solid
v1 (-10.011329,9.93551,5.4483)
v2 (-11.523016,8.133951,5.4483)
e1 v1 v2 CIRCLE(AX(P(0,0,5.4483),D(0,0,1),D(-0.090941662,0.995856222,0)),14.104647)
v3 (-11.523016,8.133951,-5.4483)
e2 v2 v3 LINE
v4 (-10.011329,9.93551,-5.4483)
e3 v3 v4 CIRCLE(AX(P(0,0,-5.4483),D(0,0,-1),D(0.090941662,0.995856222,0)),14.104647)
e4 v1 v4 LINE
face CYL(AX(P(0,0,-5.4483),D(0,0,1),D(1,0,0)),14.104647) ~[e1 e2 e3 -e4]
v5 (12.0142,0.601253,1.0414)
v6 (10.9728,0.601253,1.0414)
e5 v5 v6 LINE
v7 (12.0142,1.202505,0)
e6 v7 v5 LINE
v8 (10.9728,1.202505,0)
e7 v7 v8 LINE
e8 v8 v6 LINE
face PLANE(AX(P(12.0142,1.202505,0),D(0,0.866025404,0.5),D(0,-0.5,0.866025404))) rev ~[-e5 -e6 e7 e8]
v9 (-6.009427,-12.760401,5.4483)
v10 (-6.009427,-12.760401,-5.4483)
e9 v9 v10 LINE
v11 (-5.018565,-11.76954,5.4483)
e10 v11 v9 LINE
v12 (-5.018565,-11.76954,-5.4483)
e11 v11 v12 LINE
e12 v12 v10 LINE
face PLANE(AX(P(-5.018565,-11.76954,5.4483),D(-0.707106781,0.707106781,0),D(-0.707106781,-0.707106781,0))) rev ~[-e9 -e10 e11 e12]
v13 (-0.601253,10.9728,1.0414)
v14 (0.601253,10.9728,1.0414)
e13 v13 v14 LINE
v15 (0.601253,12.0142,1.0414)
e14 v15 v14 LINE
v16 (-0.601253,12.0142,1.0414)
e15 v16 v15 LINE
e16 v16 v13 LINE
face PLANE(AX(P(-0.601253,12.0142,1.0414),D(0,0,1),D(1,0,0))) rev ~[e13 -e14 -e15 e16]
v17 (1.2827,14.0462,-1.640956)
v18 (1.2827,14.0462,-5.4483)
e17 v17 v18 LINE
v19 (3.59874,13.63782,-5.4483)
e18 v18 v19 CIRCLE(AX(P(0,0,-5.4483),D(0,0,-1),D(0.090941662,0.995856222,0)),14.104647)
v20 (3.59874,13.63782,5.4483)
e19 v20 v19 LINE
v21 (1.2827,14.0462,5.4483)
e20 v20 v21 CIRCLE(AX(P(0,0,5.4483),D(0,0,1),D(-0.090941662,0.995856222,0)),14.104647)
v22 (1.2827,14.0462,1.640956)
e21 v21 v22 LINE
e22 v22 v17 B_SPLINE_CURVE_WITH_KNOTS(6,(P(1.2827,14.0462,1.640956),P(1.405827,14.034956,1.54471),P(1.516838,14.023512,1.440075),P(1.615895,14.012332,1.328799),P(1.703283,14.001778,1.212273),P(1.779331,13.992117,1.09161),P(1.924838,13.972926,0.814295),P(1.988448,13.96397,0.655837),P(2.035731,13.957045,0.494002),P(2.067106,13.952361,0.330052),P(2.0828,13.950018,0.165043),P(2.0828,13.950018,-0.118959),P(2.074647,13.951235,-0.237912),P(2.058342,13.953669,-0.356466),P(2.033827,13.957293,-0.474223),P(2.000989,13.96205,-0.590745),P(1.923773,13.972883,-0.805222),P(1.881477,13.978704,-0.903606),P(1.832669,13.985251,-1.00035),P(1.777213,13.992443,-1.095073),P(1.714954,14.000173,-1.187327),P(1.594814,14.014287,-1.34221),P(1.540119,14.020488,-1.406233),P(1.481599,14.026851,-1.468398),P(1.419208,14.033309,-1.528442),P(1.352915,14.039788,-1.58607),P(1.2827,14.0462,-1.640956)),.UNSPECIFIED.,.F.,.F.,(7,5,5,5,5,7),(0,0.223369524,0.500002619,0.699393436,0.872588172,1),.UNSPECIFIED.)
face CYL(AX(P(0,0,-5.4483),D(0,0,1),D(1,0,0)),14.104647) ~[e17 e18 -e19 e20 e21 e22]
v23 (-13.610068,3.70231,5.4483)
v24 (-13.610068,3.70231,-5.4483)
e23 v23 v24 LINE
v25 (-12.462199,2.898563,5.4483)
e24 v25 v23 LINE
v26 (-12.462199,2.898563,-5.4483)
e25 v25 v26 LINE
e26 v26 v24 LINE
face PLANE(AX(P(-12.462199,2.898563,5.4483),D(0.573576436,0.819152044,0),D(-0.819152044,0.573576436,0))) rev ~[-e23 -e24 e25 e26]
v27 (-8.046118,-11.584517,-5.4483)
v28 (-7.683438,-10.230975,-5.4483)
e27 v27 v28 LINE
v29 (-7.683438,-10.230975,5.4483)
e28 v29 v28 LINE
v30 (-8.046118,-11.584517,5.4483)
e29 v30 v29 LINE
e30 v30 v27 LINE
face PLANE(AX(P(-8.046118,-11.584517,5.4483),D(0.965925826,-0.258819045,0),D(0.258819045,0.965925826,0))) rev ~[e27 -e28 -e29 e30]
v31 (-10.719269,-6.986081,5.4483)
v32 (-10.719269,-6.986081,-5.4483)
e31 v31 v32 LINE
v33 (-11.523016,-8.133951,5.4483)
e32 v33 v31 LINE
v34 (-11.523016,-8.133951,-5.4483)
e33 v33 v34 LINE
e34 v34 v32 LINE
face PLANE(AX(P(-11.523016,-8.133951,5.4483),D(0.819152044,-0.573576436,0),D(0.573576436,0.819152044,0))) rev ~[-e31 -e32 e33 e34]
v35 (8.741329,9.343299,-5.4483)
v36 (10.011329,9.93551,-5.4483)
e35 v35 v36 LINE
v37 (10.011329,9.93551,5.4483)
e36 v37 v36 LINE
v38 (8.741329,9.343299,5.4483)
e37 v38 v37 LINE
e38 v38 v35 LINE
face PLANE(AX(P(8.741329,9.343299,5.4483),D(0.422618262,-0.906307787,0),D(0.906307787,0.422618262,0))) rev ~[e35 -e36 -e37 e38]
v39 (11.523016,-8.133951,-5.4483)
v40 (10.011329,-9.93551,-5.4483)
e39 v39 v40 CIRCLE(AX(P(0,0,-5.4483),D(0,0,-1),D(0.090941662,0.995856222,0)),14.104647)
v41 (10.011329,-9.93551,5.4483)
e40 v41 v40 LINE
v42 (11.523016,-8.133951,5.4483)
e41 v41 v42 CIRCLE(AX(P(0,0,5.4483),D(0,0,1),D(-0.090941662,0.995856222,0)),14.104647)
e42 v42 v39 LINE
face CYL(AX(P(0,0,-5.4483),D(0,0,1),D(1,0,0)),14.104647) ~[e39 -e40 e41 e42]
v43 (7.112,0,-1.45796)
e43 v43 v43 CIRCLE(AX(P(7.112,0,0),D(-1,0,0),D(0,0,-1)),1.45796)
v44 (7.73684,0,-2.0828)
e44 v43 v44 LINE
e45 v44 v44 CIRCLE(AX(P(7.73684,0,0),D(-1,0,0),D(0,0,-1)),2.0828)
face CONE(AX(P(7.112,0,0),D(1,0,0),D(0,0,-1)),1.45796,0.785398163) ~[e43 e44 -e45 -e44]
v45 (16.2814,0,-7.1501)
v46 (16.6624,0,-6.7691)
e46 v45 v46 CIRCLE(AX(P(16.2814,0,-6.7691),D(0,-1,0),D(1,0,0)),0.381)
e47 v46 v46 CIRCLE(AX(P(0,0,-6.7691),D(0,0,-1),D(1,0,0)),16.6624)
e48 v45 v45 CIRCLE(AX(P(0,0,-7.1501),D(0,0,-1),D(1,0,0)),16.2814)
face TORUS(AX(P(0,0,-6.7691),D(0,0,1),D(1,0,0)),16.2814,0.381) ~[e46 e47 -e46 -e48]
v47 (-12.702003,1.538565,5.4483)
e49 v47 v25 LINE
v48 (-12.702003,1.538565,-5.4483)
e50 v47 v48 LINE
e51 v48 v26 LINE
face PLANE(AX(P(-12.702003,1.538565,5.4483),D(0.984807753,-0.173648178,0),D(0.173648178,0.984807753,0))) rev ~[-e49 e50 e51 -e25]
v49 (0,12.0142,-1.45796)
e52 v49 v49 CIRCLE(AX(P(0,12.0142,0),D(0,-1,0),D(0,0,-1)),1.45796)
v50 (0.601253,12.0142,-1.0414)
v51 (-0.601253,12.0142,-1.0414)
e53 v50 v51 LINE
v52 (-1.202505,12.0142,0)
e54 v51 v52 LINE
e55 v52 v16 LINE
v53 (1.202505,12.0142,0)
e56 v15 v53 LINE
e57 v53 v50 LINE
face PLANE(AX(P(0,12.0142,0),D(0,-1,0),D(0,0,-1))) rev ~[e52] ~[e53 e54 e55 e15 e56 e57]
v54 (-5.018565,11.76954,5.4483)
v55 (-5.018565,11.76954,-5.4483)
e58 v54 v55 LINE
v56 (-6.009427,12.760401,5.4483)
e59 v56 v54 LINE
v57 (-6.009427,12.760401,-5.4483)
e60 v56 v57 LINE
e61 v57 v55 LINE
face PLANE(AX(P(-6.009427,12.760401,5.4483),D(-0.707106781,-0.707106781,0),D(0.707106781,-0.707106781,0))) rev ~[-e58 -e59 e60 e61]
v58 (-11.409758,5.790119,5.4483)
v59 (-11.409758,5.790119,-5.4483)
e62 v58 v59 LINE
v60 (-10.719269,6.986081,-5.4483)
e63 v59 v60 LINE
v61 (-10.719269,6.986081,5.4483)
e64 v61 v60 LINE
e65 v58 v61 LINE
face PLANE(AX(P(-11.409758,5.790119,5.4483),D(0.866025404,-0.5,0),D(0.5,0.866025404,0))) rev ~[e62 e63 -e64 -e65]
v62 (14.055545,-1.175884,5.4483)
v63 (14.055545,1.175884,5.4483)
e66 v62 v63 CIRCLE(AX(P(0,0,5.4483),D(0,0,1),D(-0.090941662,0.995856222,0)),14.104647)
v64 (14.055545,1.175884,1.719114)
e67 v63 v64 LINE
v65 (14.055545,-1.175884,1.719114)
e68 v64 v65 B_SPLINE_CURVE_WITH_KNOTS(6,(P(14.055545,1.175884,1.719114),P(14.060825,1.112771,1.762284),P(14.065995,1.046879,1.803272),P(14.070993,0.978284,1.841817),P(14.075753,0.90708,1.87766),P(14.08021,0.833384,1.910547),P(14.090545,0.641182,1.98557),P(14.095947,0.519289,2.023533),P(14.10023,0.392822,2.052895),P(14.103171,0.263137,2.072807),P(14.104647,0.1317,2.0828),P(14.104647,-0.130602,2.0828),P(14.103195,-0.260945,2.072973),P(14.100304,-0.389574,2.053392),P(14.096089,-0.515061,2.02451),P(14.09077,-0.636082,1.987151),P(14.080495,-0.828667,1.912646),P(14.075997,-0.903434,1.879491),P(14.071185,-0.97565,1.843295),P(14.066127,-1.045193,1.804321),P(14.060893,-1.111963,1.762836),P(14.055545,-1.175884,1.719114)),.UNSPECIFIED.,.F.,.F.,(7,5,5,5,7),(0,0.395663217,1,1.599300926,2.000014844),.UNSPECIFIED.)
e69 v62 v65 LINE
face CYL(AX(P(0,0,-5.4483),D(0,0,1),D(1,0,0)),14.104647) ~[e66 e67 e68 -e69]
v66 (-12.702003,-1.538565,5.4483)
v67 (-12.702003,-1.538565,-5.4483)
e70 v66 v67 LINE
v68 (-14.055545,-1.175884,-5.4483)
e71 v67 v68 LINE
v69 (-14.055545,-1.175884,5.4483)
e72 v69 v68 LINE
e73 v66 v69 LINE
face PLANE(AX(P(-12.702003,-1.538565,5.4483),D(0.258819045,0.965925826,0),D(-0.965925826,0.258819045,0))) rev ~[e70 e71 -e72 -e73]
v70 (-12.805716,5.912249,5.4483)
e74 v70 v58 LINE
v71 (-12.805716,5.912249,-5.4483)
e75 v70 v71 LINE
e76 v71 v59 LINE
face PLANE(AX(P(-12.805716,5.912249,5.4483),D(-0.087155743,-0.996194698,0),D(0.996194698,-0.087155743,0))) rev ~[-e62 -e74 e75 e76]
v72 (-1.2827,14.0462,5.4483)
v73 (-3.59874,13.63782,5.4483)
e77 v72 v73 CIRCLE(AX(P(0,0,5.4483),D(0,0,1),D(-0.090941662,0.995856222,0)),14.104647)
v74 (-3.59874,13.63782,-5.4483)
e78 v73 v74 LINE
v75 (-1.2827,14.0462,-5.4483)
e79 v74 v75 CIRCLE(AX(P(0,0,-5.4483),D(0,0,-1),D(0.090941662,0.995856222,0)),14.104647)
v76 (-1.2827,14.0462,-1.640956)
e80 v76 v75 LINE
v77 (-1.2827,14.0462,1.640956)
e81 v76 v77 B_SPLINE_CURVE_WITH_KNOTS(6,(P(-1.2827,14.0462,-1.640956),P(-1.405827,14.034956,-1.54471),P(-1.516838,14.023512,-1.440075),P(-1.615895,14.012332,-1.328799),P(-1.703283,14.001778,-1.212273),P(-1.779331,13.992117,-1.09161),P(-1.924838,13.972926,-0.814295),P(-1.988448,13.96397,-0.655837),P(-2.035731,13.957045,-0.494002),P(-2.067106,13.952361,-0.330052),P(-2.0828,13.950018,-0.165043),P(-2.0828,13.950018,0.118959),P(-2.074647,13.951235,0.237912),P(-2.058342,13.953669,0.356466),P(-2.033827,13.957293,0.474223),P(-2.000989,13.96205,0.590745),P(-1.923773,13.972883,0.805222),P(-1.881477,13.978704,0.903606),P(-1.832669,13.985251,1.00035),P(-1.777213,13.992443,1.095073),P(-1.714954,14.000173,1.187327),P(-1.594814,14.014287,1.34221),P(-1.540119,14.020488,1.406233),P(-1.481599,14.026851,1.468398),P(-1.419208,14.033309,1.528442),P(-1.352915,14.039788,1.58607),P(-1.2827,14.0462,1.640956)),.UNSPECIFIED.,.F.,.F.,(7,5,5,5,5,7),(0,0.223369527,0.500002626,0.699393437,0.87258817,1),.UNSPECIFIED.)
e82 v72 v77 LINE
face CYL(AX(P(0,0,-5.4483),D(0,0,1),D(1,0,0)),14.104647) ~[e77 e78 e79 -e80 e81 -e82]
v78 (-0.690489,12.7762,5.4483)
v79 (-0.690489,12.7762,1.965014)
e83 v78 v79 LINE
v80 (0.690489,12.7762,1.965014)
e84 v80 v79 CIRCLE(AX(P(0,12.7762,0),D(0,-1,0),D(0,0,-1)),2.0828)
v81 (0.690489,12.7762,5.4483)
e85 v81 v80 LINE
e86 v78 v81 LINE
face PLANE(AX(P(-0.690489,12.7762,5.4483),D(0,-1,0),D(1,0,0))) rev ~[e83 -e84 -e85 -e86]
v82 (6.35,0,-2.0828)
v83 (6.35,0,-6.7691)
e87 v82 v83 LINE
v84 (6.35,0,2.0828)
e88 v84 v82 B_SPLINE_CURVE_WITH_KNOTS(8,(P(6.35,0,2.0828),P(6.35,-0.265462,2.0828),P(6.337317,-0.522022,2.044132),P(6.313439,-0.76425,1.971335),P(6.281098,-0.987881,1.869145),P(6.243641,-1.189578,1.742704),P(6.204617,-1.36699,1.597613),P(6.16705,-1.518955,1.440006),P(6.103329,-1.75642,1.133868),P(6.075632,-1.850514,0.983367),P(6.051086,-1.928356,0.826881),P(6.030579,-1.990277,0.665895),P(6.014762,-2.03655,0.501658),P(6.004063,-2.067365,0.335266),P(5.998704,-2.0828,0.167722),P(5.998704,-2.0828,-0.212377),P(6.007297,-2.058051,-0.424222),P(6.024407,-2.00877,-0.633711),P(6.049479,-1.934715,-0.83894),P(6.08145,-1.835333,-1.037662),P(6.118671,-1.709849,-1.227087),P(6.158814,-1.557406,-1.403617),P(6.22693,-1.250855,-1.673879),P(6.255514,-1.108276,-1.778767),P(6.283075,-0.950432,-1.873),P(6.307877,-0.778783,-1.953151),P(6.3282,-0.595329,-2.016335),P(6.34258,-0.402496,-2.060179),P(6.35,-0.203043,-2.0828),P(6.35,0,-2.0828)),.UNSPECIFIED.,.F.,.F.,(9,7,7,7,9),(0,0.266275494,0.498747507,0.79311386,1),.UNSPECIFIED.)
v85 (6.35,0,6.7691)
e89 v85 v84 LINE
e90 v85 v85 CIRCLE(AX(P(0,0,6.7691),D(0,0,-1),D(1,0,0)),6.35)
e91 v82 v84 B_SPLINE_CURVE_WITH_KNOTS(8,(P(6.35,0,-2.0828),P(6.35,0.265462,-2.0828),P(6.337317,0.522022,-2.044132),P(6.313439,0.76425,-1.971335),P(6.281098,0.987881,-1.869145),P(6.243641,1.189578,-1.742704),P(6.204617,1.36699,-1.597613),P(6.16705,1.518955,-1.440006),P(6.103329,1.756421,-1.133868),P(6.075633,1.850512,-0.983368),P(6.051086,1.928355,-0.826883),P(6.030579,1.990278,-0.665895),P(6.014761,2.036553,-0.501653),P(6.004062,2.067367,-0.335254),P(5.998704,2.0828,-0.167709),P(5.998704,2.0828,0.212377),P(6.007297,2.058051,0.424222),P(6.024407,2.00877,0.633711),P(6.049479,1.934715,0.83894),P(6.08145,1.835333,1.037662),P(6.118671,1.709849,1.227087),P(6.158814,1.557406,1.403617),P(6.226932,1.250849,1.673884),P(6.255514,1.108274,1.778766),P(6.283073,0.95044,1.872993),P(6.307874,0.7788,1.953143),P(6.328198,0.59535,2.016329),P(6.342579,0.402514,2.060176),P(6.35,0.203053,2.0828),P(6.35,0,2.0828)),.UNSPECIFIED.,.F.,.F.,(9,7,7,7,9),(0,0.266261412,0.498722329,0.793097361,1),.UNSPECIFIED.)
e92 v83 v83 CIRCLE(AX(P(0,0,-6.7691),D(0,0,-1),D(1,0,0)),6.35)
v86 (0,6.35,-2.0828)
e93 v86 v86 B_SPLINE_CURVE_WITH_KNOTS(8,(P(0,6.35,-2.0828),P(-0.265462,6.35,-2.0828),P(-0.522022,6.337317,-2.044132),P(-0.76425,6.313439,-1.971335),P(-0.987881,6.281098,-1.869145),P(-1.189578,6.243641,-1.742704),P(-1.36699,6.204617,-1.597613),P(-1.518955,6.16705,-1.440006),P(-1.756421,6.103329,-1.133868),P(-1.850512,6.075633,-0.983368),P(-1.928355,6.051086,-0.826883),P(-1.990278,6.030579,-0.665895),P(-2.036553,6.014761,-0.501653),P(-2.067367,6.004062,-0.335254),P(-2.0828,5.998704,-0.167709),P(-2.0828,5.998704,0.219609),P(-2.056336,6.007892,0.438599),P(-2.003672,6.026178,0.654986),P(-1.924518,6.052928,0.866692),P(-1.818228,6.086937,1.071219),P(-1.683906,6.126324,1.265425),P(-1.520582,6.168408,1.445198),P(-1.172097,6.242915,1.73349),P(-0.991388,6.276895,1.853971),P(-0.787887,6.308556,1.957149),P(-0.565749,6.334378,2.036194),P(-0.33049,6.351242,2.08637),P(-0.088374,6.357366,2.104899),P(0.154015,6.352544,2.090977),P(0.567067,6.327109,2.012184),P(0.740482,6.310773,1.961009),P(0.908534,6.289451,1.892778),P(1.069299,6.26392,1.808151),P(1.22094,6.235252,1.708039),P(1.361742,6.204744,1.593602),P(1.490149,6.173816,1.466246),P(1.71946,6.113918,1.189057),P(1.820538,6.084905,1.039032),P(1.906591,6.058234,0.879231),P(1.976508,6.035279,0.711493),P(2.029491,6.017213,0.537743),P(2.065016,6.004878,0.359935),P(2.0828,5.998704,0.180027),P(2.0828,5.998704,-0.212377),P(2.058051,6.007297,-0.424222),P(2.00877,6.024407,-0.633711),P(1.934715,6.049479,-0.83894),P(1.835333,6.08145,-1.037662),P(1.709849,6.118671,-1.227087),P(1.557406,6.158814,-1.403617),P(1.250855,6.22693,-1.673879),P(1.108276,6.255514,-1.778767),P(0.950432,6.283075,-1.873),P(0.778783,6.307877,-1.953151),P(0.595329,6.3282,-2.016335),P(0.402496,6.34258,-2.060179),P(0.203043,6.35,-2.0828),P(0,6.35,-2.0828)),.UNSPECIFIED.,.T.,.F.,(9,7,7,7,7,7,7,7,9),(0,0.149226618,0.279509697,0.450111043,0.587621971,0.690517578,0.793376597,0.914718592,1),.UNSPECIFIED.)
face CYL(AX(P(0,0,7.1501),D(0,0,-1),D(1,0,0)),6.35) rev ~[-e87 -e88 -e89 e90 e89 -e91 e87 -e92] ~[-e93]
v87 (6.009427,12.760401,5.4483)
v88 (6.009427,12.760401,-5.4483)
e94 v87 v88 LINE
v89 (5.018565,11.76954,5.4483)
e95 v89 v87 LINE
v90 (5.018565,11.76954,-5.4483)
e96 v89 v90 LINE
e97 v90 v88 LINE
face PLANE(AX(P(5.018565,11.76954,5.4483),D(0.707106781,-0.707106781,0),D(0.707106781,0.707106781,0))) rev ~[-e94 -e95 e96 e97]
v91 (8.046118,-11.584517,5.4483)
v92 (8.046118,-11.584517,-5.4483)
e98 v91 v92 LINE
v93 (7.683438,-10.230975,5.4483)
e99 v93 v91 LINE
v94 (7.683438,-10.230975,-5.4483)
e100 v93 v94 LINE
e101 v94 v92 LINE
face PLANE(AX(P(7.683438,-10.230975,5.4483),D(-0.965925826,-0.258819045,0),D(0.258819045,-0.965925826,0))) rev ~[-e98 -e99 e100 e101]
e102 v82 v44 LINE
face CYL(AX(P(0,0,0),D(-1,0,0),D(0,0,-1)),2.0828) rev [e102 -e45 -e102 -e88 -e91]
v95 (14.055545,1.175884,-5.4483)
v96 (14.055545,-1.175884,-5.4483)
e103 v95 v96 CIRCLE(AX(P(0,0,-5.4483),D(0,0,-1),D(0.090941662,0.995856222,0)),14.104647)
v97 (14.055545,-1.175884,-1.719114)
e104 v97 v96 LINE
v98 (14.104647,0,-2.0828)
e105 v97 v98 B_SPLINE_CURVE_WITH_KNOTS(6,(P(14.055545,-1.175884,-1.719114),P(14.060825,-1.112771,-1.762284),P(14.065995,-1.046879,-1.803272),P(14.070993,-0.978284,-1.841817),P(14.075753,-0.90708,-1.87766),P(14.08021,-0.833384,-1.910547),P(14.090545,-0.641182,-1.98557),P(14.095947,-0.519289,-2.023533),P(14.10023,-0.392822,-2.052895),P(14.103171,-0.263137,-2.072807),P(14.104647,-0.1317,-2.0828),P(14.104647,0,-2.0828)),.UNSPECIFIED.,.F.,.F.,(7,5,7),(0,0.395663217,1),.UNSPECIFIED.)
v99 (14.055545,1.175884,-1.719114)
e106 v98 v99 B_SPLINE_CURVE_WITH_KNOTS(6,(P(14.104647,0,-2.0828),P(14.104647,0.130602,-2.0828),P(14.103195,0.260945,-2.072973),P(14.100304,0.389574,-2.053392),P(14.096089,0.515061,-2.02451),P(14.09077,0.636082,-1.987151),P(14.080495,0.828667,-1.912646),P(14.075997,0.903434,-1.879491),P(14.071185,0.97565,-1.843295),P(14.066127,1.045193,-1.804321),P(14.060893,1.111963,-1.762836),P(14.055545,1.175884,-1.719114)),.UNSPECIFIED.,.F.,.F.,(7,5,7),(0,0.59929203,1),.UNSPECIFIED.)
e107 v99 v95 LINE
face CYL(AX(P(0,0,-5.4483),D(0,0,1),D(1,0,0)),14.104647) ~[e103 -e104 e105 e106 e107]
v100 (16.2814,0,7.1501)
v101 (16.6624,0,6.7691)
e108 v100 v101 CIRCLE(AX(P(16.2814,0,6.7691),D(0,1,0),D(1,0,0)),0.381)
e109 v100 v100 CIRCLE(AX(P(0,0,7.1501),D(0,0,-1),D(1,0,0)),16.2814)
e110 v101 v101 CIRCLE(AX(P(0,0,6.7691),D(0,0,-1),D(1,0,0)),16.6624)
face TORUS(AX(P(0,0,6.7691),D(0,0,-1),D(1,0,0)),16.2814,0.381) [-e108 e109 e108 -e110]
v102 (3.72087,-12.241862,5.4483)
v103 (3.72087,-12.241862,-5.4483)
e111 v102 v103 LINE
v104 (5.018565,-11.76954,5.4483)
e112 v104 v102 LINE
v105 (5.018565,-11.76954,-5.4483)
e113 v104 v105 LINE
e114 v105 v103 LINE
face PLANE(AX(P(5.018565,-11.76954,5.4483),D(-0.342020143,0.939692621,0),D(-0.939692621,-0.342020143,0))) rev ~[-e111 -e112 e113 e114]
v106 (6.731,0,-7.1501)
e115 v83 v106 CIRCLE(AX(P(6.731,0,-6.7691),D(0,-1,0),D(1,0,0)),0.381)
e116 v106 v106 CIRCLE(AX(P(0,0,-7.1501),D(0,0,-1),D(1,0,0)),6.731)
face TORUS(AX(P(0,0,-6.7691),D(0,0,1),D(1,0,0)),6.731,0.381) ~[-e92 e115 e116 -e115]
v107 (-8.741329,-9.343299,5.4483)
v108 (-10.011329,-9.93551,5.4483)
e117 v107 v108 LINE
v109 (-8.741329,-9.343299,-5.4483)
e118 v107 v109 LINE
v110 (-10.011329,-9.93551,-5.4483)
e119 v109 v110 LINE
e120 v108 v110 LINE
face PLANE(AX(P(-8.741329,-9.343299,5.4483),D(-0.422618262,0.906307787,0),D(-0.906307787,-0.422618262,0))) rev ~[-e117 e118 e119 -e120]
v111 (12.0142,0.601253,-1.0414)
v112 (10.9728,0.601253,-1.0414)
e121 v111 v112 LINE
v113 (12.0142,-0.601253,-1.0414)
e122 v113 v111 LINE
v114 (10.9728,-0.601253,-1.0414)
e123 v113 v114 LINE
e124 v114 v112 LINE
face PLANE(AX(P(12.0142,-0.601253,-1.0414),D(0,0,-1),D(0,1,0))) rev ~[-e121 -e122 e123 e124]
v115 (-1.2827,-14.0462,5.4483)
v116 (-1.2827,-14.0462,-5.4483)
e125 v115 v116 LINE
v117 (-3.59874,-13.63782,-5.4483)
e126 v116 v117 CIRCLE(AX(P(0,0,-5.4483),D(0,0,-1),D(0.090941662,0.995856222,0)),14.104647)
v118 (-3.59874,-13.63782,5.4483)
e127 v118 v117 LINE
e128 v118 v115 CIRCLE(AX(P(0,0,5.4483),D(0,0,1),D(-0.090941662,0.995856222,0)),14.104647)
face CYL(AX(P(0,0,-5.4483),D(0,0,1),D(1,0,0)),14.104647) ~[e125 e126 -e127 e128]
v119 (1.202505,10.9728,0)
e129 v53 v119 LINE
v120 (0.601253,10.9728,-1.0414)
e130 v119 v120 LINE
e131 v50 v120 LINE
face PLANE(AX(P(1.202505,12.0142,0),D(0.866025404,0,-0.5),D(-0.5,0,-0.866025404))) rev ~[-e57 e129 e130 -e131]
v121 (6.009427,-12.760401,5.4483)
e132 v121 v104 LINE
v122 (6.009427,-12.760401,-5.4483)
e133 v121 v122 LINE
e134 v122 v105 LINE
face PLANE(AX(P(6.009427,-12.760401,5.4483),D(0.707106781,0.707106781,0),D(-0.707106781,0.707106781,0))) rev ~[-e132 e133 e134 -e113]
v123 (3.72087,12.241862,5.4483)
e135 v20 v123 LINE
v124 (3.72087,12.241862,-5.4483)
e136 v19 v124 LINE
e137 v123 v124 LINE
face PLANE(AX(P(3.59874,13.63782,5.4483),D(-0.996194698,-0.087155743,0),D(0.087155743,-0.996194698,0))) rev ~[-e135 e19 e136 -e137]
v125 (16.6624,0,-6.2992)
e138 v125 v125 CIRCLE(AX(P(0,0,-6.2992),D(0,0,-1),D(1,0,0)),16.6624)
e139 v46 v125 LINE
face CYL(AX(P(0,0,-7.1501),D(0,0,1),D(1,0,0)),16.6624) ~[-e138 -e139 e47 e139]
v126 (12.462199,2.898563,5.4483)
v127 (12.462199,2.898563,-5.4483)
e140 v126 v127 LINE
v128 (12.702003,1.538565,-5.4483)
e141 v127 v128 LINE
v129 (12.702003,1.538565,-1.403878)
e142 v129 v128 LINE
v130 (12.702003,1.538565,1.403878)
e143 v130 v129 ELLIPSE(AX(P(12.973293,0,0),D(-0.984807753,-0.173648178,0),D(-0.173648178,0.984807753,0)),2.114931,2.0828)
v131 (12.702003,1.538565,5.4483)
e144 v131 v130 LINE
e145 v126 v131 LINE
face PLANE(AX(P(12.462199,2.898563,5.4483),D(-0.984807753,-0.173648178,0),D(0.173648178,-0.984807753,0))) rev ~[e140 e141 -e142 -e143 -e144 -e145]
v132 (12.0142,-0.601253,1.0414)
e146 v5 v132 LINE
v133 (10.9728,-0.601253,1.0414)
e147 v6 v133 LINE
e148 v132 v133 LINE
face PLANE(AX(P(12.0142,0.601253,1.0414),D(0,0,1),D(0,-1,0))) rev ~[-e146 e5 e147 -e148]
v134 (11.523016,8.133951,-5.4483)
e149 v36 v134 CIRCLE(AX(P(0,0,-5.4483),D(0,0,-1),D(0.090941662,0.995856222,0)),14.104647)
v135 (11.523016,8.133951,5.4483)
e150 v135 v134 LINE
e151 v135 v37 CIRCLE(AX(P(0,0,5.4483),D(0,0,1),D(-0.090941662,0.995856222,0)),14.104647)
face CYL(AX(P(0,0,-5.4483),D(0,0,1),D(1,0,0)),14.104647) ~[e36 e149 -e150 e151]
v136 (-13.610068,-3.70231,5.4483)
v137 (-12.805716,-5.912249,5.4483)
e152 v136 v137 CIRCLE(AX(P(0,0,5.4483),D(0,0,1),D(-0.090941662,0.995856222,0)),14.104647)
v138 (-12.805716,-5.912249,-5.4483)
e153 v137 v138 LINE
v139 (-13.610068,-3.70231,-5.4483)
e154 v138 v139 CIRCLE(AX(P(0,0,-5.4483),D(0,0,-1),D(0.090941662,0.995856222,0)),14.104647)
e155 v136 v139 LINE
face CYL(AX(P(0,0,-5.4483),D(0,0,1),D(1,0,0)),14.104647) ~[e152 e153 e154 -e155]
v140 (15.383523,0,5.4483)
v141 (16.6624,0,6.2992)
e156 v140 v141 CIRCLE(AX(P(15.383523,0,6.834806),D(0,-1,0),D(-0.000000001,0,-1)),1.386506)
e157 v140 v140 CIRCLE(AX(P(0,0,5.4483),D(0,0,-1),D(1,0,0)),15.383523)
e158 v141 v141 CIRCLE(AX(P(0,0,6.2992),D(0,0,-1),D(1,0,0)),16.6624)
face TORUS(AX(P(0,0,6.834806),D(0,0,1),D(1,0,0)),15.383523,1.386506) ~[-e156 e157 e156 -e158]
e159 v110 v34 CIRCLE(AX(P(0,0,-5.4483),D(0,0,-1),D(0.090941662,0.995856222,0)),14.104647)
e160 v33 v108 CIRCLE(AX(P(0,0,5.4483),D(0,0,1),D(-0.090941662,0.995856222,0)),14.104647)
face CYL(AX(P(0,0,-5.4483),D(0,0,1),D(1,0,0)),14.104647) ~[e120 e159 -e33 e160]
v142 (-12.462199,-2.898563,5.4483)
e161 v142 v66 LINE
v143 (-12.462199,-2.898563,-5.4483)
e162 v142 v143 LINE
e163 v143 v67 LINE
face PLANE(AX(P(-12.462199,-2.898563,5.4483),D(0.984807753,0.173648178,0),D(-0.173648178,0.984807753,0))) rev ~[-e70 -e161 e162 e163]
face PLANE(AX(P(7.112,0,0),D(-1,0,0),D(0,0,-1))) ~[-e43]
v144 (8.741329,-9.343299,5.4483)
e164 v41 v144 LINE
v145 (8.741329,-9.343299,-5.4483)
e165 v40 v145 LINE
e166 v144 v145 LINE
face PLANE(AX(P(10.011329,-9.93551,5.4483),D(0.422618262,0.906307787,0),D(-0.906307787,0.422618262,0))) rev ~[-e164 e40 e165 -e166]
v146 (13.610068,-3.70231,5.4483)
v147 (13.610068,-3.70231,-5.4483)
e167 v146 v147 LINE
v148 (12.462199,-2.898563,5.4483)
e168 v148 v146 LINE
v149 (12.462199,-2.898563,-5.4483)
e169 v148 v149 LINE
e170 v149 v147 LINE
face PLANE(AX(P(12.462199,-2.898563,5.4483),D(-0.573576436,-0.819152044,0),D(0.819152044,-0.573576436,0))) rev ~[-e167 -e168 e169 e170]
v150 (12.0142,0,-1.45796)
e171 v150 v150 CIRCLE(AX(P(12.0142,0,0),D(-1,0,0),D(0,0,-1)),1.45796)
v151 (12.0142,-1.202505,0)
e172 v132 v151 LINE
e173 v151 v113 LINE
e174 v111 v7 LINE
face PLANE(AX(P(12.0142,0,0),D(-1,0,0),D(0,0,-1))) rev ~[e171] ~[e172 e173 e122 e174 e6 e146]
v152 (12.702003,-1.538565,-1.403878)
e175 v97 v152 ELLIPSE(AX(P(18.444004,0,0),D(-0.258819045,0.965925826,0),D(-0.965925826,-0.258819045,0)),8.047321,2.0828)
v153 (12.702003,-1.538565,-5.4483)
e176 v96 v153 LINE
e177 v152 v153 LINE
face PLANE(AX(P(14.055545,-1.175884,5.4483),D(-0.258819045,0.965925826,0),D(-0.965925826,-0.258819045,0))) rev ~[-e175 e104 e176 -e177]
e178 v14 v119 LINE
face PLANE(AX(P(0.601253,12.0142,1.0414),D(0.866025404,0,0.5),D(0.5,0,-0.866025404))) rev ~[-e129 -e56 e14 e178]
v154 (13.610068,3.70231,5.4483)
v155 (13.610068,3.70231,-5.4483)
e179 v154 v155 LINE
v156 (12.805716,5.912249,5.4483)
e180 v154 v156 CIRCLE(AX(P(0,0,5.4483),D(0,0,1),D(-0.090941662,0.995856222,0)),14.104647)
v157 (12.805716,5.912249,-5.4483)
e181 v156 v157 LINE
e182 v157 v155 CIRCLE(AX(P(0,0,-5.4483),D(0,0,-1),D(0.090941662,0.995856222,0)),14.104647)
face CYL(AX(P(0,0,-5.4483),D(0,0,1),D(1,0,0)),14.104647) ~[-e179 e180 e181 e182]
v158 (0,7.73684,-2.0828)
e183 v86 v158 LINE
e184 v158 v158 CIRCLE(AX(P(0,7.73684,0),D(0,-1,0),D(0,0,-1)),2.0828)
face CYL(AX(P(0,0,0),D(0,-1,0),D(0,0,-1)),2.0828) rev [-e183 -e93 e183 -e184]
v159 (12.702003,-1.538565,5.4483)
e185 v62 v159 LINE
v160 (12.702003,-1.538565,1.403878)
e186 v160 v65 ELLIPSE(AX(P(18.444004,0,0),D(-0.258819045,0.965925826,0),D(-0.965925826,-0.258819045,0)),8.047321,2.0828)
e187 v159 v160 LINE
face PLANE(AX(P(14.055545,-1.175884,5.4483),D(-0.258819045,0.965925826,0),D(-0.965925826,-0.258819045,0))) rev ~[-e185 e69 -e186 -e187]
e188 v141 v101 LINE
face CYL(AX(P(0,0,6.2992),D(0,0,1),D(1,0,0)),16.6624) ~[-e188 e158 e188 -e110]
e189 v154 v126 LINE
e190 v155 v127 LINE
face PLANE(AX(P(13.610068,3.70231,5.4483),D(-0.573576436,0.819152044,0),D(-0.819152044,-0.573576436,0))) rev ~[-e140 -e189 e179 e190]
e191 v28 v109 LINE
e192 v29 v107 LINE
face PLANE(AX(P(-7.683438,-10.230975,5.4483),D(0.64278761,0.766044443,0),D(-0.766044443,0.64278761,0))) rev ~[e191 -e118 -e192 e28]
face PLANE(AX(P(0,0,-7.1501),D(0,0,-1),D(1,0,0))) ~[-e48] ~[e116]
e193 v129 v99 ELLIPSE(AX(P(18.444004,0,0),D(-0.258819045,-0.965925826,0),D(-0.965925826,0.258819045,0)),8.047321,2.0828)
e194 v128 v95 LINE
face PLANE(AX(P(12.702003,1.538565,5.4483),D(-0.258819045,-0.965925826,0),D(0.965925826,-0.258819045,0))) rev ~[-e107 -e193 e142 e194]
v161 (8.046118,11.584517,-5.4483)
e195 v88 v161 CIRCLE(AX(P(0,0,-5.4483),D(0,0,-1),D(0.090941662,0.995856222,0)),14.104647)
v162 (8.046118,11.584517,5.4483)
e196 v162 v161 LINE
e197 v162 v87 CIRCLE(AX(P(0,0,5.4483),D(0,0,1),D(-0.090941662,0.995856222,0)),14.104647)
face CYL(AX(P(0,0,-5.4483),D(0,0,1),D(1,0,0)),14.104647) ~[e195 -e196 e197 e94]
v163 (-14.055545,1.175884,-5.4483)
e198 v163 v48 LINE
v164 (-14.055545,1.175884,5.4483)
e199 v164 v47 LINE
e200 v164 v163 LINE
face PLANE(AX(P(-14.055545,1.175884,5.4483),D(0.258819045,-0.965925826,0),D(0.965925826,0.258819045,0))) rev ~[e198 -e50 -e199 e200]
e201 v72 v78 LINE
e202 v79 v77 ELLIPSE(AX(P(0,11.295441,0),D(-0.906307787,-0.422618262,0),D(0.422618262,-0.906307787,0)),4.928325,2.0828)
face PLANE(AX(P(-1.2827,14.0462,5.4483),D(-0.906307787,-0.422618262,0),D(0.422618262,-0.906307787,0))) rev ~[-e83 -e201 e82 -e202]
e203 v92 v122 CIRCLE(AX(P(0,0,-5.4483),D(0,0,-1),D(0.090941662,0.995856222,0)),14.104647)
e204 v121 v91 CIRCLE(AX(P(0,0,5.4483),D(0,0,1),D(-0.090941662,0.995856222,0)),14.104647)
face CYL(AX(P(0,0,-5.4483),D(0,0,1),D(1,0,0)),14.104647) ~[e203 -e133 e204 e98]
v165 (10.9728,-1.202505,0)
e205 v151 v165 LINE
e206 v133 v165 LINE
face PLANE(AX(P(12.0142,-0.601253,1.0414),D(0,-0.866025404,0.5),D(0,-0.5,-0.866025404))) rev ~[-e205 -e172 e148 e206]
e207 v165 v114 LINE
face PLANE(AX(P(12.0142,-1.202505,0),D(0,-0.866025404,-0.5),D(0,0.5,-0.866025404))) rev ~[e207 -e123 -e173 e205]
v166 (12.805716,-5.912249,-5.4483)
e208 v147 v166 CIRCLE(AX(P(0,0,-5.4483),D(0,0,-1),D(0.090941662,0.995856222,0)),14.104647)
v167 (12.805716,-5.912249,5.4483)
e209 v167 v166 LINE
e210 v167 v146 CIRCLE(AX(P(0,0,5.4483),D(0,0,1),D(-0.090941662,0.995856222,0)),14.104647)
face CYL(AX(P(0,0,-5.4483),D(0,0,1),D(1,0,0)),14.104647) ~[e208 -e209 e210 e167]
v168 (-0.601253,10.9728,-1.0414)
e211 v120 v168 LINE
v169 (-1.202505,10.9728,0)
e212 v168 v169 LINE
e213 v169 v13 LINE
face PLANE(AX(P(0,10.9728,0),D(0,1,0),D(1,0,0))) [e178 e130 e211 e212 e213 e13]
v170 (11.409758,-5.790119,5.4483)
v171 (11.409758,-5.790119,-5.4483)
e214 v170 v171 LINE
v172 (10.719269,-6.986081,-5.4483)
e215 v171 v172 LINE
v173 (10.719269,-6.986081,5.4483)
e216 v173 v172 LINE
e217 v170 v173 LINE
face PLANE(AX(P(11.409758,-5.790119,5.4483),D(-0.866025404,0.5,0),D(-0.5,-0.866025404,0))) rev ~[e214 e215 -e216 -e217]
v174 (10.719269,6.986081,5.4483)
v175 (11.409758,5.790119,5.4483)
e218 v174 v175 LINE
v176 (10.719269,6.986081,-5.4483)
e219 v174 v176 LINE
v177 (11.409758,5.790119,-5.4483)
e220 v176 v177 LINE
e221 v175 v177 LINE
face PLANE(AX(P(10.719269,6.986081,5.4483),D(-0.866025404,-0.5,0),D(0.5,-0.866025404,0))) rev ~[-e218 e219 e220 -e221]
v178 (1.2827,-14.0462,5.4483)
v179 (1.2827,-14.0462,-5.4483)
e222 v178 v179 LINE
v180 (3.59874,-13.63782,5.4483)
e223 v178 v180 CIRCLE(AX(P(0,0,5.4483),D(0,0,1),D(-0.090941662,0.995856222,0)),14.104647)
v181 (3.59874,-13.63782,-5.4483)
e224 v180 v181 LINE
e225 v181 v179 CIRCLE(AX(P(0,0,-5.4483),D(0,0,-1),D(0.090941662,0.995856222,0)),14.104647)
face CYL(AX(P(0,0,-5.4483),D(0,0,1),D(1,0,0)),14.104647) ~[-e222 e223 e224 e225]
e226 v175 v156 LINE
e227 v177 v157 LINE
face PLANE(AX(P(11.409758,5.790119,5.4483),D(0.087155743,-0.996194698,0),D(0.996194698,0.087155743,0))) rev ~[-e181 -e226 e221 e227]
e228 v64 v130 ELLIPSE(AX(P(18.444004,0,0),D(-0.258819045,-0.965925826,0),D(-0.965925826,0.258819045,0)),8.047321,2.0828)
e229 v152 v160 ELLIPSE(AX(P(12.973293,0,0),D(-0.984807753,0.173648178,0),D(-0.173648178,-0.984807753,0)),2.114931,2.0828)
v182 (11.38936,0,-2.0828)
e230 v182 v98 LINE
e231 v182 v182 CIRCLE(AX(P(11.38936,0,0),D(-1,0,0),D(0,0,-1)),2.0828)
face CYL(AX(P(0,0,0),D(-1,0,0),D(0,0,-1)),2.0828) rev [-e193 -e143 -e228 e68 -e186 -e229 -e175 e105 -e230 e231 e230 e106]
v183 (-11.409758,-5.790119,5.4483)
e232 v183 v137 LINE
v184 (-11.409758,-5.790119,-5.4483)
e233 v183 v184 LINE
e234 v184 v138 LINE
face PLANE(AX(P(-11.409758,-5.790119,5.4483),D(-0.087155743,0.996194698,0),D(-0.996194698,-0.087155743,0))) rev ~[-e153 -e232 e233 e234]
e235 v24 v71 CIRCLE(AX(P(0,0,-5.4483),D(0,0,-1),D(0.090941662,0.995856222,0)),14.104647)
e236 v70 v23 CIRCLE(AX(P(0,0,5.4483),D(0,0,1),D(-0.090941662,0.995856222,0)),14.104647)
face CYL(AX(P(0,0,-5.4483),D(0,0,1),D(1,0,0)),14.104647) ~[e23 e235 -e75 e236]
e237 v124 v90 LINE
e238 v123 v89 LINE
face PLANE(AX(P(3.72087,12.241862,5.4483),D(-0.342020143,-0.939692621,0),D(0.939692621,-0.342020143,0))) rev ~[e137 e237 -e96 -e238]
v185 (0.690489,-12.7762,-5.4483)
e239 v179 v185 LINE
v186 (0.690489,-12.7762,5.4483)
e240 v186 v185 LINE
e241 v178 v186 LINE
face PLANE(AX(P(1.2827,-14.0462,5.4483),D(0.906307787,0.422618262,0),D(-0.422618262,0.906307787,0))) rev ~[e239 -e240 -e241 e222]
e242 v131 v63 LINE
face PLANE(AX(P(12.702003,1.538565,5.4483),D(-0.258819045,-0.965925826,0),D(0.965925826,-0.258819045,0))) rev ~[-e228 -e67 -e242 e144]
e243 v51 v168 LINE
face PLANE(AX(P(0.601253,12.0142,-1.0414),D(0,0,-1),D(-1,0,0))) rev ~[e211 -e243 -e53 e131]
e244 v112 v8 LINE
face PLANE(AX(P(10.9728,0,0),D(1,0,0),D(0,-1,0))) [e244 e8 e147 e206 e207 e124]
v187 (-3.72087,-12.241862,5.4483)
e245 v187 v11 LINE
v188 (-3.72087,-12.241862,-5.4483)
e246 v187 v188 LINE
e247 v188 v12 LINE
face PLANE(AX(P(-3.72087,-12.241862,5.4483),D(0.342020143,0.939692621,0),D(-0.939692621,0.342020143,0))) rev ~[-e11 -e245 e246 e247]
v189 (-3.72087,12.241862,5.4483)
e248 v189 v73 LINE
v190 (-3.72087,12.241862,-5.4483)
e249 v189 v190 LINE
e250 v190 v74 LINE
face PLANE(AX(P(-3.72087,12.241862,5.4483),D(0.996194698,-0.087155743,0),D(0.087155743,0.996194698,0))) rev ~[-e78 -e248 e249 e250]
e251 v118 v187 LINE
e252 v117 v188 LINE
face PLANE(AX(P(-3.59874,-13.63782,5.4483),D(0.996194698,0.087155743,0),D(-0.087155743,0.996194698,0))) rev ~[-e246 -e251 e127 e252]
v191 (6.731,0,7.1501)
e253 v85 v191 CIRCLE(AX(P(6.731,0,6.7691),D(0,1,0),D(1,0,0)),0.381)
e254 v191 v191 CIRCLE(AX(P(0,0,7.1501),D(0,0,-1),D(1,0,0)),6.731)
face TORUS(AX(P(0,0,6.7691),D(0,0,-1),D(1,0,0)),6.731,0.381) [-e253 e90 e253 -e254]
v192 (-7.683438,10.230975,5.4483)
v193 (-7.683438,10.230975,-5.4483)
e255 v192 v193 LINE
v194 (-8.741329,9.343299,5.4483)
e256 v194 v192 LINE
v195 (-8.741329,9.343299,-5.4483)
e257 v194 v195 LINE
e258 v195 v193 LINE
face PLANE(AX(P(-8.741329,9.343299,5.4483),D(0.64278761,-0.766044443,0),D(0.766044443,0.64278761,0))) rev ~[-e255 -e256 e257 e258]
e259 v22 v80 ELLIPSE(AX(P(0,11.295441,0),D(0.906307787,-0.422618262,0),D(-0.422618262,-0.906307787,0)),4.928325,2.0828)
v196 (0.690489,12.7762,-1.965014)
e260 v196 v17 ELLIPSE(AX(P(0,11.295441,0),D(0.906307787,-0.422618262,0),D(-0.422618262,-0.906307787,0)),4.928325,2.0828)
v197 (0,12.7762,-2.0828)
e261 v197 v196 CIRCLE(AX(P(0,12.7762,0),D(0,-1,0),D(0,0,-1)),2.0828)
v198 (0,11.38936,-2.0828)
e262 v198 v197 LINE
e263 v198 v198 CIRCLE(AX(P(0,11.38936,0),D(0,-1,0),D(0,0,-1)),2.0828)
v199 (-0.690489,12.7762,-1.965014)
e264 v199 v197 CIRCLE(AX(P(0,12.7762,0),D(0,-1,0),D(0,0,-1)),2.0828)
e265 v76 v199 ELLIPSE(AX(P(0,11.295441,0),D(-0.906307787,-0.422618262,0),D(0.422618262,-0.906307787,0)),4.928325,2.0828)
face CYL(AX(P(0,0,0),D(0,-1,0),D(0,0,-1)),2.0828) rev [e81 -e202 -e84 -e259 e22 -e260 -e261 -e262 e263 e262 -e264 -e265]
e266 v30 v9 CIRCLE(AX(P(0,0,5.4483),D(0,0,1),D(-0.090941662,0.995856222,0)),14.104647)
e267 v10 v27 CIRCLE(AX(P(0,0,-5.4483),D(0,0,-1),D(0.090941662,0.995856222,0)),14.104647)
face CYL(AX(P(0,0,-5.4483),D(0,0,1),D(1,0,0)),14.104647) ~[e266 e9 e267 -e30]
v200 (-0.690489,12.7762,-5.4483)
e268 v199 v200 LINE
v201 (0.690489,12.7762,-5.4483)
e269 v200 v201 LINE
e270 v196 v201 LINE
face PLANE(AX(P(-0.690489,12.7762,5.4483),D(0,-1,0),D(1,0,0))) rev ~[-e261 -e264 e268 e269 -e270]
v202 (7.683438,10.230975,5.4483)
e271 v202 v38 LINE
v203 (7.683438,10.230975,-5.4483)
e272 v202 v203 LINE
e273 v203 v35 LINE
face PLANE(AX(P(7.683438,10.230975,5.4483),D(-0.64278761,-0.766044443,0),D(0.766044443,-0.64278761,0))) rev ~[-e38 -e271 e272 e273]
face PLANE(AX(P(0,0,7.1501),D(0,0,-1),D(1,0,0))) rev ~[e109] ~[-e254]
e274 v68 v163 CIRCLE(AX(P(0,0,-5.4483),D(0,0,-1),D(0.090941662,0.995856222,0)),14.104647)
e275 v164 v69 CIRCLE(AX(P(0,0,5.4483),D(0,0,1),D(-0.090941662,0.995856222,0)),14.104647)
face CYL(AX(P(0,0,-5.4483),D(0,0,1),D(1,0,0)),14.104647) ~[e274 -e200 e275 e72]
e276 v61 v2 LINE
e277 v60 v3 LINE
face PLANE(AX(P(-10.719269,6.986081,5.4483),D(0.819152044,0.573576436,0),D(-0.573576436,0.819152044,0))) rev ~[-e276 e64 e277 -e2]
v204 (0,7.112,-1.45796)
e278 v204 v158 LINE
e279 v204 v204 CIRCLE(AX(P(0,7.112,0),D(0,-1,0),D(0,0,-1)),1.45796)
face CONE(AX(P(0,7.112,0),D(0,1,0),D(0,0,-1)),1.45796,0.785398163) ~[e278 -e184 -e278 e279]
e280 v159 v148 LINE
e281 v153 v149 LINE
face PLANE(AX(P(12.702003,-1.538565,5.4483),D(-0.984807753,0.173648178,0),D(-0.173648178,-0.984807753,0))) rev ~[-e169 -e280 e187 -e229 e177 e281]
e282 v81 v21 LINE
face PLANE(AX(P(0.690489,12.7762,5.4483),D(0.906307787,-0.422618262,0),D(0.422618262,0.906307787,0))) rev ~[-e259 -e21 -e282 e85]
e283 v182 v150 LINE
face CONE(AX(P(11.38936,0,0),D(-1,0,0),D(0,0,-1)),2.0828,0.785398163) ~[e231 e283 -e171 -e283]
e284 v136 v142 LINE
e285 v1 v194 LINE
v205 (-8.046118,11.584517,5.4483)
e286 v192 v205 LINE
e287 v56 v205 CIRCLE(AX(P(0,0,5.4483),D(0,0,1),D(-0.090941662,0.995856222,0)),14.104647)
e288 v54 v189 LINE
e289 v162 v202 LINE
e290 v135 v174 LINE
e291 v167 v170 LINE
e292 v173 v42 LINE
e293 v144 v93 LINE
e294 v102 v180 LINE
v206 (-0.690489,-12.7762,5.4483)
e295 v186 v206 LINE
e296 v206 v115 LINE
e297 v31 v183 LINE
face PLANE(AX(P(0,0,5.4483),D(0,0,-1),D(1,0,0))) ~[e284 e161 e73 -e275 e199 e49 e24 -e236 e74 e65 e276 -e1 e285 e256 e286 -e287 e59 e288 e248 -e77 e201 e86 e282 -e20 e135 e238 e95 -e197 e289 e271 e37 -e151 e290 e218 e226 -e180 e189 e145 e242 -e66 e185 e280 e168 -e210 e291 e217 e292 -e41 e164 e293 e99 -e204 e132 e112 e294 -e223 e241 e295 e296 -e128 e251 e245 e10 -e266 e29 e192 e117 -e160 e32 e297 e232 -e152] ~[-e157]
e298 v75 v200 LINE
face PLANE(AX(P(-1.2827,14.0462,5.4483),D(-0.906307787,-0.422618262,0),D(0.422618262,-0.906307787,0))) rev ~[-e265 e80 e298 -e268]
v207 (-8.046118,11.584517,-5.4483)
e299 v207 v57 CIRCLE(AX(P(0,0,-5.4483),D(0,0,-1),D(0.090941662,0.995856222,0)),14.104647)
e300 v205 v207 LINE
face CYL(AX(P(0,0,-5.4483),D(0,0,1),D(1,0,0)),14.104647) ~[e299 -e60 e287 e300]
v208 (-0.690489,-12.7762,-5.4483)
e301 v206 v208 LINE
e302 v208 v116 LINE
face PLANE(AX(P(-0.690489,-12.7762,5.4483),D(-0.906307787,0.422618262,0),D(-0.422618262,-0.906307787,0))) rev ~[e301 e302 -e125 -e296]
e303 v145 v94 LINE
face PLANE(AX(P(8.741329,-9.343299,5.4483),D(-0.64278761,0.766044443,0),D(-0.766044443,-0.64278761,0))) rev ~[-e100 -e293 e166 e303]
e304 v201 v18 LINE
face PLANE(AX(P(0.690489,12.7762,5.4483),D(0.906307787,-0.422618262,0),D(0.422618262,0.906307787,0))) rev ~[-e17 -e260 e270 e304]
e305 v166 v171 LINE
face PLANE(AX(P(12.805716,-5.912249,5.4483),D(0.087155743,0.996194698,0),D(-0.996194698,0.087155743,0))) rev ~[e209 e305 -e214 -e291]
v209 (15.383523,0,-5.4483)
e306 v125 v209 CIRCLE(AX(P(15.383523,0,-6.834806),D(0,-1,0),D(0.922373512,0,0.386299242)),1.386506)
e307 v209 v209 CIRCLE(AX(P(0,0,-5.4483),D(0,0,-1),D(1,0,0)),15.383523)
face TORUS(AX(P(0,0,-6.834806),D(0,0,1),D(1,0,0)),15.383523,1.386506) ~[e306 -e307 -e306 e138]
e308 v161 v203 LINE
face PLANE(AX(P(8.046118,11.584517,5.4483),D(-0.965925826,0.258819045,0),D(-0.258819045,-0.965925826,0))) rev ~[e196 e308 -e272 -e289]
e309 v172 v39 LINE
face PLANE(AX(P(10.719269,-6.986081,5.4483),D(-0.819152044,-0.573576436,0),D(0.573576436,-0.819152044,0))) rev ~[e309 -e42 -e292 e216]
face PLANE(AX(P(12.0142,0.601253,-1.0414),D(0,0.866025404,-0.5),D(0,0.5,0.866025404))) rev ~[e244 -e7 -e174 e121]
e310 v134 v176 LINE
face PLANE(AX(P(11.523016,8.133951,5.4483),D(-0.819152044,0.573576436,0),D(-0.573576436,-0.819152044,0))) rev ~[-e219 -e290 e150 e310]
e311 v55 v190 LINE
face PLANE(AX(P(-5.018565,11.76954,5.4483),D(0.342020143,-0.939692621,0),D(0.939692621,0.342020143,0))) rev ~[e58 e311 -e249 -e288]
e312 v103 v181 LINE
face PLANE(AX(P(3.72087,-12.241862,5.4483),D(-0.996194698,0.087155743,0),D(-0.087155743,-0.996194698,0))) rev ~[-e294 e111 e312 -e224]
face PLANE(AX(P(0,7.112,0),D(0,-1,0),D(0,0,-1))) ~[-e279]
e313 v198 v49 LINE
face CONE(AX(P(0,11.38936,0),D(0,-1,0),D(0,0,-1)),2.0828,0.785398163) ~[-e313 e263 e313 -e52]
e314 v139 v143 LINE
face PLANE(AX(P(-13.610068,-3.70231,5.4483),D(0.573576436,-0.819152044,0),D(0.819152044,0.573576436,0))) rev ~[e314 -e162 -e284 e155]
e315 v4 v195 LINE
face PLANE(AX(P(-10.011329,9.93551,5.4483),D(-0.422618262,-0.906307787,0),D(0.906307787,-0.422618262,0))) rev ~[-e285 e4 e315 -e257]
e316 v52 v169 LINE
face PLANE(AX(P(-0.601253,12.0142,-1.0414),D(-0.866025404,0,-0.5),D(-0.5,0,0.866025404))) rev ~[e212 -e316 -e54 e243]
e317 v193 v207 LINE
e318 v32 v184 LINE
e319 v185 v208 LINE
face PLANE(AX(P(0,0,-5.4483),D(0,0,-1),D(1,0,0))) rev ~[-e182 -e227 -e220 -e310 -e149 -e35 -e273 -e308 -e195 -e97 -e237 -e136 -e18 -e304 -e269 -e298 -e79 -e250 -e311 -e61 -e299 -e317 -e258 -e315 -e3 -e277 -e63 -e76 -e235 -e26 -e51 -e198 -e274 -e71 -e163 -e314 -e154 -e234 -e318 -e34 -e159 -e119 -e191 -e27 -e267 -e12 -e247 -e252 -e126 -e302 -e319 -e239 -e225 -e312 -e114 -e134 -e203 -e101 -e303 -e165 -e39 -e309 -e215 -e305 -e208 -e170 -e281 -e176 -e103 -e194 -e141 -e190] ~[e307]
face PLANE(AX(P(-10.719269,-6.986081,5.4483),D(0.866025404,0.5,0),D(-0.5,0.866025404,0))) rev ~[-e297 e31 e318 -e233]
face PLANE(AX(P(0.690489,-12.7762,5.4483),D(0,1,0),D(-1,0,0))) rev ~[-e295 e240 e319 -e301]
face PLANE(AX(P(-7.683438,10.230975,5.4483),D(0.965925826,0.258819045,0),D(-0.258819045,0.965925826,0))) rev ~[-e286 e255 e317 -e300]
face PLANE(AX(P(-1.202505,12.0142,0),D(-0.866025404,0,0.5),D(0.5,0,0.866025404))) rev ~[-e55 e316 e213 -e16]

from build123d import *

# Parameters (mm, degrees)
CUT_EXTRUDE1_START = 5.4483
CUT_EXTRUDE1_DEPTH = 10.8966
CIRPATTERN1_COUNT  = 18
FILLET1_R          = 0.381
SKETCH5_R          = 2.0828
CUT_EXTRUDE2_DEPTH = 25.625090571
CUT_EXTRUDE3_DEPTH = 1.0414
CIRPATTERN2_COUNT  = 2
CIRPATTERN2_ANGLE  = 270


with BuildPart() as part:
    # Sketch2 → Revolve1 (revolve)
    with BuildSketch(Plane(origin=(0, 0, 0), x_dir=(0, 0, -1), z_dir=(1, 0, 0)), mode=Mode.PRIVATE) as revolve1_sk:
        with BuildLine():
            Line((-7.1501, 6.35), (7.1501, 6.35))
            Line((7.1501, 6.35), (7.1501, 16.6624))
            Line((7.1501, 16.6624), (6.2992, 16.6624))
            ThreePointArc((6.2992, 16.6624), (5.680462063, 16.151565665), (5.4483, 15.383523265))
            Line((5.4483, 15.383523265), (5.4483, 14.10464653))
            Line((5.4483, 14.10464653), (-5.4483, 14.10464653))
            Line((-5.4483, 14.10464653), (-5.4483, 15.383523265))
            ThreePointArc((-5.4483, 15.383523265), (-5.680462063, 16.151565665), (-6.2992, 16.6624))
            Line((-6.2992, 16.6624), (-7.1501, 16.6624))
            Line((-7.1501, 16.6624), (-7.1501, 6.35))
        make_face()
    revolve(revolve1_sk.sketch.rotate(Axis((0, 0, 7.1501), (0, 0, -1)), 90), axis=Axis((0, 0, 7.1501), (0, 0, -1)))

    # Sketch3 → Cut-Extrude1 (cut)
    with BuildSketch(Plane.XY.offset(CUT_EXTRUDE1_START)):
        with BuildLine():
            Line((-0.690489274, 12.7762), (0.690489274, 12.7762))
            Line((0.690489274, 12.7762), (1.2827, 14.0462))
            ThreePointArc((1.2827, 14.0462), (0, 14.10464653), (-1.2827, 14.0462))
            Line((-1.2827, 14.0462), (-0.690489274, 12.7762))
        make_face()
    cut_extrude1 = extrude(amount=-CUT_EXTRUDE1_DEPTH, mode=Mode.SUBTRACT)

    # CirPattern1: Cut-Extrude1 ×18 about axis
    cirpattern1_axis = Axis((0, 0, 0), (0, 0, 1))
    for i in range(1, CIRPATTERN1_COUNT):
        add(cut_extrude1.rotate(cirpattern1_axis, i * 360 / CIRPATTERN1_COUNT), mode=Mode.SUBTRACT)

    # Fillet1
    fillet1_edges = [part.edges().sort_by_distance(p)[0] for p in [
        (-16.6624, 0, -7.1501),
        (-6.35, 0, -7.1501),
        (-6.35, 0, 7.1501),
        (-16.6624, 0, 7.1501),
    ]]
    fillet(fillet1_edges, radius=FILLET1_R)

    # Sketch5 → Cut-Extrude2 (cut, through all)
    with BuildSketch(Plane(origin=(0, 0, 0), x_dir=(1, 0, 0), z_dir=(0, 1, 0))):
        with Locations(Location((0, 0, 0), (0, 0, 90))):
            Circle(SKETCH5_R)
    cut_extrude2 = extrude(amount=CUT_EXTRUDE2_DEPTH, mode=Mode.SUBTRACT)

    # Sketch6 → Revolve2 (revolve)
    with BuildSketch(Plane(origin=(0, 0, 0), x_dir=(0, 0, -1), z_dir=(1, 0, 0)), mode=Mode.PRIVATE) as revolve2_sk:
        Polygon((0, 12.0142), (0, 7.112), (-1.45796, 7.112), (-2.0828, 7.73684), (-2.0828, 11.38936), (-1.45796, 12.0142), align=None)
    revolve2 = revolve(revolve2_sk.sketch.rotate(Axis((0, 12.0142, 0), (0, -1, 0)), 180), axis=Axis((0, 12.0142, 0), (0, -1, 0)))

    # Sketch7 → Cut-Extrude3 (cut)
    with BuildSketch(Plane(origin=(0, 12.0142, 0), x_dir=(1, 0, 0), z_dir=(0, 1, 0))):
        Polygon((1.202505141, 0), (0.60125257, 1.0414), (-0.60125257, 1.0414), (-1.202505141, 0), (-0.60125257, -1.0414), (0.60125257, -1.0414), align=None)
    cut_extrude3 = extrude(amount=-CUT_EXTRUDE3_DEPTH, mode=Mode.SUBTRACT)

    # CirPattern2: Cut-Extrude2, Revolve2, Cut-Extrude3 ×2 about axis
    cirpattern2_axis = Axis((0, 0, 0), (0, 0, 1))
    add([cut_extrude2.rotate(cirpattern2_axis, i * CIRPATTERN2_ANGLE / (CIRPATTERN2_COUNT - 1)) for i in range(1, CIRPATTERN2_COUNT)], mode=Mode.SUBTRACT)
    add([revolve2.rotate(cirpattern2_axis, i * CIRPATTERN2_ANGLE / (CIRPATTERN2_COUNT - 1)) for i in range(1, CIRPATTERN2_COUNT)])
    add([cut_extrude3.rotate(cirpattern2_axis, i * CIRPATTERN2_ANGLE / (CIRPATTERN2_COUNT - 1)) for i in range(1, CIRPATTERN2_COUNT)], mode=Mode.SUBTRACT)


solid = part.part
